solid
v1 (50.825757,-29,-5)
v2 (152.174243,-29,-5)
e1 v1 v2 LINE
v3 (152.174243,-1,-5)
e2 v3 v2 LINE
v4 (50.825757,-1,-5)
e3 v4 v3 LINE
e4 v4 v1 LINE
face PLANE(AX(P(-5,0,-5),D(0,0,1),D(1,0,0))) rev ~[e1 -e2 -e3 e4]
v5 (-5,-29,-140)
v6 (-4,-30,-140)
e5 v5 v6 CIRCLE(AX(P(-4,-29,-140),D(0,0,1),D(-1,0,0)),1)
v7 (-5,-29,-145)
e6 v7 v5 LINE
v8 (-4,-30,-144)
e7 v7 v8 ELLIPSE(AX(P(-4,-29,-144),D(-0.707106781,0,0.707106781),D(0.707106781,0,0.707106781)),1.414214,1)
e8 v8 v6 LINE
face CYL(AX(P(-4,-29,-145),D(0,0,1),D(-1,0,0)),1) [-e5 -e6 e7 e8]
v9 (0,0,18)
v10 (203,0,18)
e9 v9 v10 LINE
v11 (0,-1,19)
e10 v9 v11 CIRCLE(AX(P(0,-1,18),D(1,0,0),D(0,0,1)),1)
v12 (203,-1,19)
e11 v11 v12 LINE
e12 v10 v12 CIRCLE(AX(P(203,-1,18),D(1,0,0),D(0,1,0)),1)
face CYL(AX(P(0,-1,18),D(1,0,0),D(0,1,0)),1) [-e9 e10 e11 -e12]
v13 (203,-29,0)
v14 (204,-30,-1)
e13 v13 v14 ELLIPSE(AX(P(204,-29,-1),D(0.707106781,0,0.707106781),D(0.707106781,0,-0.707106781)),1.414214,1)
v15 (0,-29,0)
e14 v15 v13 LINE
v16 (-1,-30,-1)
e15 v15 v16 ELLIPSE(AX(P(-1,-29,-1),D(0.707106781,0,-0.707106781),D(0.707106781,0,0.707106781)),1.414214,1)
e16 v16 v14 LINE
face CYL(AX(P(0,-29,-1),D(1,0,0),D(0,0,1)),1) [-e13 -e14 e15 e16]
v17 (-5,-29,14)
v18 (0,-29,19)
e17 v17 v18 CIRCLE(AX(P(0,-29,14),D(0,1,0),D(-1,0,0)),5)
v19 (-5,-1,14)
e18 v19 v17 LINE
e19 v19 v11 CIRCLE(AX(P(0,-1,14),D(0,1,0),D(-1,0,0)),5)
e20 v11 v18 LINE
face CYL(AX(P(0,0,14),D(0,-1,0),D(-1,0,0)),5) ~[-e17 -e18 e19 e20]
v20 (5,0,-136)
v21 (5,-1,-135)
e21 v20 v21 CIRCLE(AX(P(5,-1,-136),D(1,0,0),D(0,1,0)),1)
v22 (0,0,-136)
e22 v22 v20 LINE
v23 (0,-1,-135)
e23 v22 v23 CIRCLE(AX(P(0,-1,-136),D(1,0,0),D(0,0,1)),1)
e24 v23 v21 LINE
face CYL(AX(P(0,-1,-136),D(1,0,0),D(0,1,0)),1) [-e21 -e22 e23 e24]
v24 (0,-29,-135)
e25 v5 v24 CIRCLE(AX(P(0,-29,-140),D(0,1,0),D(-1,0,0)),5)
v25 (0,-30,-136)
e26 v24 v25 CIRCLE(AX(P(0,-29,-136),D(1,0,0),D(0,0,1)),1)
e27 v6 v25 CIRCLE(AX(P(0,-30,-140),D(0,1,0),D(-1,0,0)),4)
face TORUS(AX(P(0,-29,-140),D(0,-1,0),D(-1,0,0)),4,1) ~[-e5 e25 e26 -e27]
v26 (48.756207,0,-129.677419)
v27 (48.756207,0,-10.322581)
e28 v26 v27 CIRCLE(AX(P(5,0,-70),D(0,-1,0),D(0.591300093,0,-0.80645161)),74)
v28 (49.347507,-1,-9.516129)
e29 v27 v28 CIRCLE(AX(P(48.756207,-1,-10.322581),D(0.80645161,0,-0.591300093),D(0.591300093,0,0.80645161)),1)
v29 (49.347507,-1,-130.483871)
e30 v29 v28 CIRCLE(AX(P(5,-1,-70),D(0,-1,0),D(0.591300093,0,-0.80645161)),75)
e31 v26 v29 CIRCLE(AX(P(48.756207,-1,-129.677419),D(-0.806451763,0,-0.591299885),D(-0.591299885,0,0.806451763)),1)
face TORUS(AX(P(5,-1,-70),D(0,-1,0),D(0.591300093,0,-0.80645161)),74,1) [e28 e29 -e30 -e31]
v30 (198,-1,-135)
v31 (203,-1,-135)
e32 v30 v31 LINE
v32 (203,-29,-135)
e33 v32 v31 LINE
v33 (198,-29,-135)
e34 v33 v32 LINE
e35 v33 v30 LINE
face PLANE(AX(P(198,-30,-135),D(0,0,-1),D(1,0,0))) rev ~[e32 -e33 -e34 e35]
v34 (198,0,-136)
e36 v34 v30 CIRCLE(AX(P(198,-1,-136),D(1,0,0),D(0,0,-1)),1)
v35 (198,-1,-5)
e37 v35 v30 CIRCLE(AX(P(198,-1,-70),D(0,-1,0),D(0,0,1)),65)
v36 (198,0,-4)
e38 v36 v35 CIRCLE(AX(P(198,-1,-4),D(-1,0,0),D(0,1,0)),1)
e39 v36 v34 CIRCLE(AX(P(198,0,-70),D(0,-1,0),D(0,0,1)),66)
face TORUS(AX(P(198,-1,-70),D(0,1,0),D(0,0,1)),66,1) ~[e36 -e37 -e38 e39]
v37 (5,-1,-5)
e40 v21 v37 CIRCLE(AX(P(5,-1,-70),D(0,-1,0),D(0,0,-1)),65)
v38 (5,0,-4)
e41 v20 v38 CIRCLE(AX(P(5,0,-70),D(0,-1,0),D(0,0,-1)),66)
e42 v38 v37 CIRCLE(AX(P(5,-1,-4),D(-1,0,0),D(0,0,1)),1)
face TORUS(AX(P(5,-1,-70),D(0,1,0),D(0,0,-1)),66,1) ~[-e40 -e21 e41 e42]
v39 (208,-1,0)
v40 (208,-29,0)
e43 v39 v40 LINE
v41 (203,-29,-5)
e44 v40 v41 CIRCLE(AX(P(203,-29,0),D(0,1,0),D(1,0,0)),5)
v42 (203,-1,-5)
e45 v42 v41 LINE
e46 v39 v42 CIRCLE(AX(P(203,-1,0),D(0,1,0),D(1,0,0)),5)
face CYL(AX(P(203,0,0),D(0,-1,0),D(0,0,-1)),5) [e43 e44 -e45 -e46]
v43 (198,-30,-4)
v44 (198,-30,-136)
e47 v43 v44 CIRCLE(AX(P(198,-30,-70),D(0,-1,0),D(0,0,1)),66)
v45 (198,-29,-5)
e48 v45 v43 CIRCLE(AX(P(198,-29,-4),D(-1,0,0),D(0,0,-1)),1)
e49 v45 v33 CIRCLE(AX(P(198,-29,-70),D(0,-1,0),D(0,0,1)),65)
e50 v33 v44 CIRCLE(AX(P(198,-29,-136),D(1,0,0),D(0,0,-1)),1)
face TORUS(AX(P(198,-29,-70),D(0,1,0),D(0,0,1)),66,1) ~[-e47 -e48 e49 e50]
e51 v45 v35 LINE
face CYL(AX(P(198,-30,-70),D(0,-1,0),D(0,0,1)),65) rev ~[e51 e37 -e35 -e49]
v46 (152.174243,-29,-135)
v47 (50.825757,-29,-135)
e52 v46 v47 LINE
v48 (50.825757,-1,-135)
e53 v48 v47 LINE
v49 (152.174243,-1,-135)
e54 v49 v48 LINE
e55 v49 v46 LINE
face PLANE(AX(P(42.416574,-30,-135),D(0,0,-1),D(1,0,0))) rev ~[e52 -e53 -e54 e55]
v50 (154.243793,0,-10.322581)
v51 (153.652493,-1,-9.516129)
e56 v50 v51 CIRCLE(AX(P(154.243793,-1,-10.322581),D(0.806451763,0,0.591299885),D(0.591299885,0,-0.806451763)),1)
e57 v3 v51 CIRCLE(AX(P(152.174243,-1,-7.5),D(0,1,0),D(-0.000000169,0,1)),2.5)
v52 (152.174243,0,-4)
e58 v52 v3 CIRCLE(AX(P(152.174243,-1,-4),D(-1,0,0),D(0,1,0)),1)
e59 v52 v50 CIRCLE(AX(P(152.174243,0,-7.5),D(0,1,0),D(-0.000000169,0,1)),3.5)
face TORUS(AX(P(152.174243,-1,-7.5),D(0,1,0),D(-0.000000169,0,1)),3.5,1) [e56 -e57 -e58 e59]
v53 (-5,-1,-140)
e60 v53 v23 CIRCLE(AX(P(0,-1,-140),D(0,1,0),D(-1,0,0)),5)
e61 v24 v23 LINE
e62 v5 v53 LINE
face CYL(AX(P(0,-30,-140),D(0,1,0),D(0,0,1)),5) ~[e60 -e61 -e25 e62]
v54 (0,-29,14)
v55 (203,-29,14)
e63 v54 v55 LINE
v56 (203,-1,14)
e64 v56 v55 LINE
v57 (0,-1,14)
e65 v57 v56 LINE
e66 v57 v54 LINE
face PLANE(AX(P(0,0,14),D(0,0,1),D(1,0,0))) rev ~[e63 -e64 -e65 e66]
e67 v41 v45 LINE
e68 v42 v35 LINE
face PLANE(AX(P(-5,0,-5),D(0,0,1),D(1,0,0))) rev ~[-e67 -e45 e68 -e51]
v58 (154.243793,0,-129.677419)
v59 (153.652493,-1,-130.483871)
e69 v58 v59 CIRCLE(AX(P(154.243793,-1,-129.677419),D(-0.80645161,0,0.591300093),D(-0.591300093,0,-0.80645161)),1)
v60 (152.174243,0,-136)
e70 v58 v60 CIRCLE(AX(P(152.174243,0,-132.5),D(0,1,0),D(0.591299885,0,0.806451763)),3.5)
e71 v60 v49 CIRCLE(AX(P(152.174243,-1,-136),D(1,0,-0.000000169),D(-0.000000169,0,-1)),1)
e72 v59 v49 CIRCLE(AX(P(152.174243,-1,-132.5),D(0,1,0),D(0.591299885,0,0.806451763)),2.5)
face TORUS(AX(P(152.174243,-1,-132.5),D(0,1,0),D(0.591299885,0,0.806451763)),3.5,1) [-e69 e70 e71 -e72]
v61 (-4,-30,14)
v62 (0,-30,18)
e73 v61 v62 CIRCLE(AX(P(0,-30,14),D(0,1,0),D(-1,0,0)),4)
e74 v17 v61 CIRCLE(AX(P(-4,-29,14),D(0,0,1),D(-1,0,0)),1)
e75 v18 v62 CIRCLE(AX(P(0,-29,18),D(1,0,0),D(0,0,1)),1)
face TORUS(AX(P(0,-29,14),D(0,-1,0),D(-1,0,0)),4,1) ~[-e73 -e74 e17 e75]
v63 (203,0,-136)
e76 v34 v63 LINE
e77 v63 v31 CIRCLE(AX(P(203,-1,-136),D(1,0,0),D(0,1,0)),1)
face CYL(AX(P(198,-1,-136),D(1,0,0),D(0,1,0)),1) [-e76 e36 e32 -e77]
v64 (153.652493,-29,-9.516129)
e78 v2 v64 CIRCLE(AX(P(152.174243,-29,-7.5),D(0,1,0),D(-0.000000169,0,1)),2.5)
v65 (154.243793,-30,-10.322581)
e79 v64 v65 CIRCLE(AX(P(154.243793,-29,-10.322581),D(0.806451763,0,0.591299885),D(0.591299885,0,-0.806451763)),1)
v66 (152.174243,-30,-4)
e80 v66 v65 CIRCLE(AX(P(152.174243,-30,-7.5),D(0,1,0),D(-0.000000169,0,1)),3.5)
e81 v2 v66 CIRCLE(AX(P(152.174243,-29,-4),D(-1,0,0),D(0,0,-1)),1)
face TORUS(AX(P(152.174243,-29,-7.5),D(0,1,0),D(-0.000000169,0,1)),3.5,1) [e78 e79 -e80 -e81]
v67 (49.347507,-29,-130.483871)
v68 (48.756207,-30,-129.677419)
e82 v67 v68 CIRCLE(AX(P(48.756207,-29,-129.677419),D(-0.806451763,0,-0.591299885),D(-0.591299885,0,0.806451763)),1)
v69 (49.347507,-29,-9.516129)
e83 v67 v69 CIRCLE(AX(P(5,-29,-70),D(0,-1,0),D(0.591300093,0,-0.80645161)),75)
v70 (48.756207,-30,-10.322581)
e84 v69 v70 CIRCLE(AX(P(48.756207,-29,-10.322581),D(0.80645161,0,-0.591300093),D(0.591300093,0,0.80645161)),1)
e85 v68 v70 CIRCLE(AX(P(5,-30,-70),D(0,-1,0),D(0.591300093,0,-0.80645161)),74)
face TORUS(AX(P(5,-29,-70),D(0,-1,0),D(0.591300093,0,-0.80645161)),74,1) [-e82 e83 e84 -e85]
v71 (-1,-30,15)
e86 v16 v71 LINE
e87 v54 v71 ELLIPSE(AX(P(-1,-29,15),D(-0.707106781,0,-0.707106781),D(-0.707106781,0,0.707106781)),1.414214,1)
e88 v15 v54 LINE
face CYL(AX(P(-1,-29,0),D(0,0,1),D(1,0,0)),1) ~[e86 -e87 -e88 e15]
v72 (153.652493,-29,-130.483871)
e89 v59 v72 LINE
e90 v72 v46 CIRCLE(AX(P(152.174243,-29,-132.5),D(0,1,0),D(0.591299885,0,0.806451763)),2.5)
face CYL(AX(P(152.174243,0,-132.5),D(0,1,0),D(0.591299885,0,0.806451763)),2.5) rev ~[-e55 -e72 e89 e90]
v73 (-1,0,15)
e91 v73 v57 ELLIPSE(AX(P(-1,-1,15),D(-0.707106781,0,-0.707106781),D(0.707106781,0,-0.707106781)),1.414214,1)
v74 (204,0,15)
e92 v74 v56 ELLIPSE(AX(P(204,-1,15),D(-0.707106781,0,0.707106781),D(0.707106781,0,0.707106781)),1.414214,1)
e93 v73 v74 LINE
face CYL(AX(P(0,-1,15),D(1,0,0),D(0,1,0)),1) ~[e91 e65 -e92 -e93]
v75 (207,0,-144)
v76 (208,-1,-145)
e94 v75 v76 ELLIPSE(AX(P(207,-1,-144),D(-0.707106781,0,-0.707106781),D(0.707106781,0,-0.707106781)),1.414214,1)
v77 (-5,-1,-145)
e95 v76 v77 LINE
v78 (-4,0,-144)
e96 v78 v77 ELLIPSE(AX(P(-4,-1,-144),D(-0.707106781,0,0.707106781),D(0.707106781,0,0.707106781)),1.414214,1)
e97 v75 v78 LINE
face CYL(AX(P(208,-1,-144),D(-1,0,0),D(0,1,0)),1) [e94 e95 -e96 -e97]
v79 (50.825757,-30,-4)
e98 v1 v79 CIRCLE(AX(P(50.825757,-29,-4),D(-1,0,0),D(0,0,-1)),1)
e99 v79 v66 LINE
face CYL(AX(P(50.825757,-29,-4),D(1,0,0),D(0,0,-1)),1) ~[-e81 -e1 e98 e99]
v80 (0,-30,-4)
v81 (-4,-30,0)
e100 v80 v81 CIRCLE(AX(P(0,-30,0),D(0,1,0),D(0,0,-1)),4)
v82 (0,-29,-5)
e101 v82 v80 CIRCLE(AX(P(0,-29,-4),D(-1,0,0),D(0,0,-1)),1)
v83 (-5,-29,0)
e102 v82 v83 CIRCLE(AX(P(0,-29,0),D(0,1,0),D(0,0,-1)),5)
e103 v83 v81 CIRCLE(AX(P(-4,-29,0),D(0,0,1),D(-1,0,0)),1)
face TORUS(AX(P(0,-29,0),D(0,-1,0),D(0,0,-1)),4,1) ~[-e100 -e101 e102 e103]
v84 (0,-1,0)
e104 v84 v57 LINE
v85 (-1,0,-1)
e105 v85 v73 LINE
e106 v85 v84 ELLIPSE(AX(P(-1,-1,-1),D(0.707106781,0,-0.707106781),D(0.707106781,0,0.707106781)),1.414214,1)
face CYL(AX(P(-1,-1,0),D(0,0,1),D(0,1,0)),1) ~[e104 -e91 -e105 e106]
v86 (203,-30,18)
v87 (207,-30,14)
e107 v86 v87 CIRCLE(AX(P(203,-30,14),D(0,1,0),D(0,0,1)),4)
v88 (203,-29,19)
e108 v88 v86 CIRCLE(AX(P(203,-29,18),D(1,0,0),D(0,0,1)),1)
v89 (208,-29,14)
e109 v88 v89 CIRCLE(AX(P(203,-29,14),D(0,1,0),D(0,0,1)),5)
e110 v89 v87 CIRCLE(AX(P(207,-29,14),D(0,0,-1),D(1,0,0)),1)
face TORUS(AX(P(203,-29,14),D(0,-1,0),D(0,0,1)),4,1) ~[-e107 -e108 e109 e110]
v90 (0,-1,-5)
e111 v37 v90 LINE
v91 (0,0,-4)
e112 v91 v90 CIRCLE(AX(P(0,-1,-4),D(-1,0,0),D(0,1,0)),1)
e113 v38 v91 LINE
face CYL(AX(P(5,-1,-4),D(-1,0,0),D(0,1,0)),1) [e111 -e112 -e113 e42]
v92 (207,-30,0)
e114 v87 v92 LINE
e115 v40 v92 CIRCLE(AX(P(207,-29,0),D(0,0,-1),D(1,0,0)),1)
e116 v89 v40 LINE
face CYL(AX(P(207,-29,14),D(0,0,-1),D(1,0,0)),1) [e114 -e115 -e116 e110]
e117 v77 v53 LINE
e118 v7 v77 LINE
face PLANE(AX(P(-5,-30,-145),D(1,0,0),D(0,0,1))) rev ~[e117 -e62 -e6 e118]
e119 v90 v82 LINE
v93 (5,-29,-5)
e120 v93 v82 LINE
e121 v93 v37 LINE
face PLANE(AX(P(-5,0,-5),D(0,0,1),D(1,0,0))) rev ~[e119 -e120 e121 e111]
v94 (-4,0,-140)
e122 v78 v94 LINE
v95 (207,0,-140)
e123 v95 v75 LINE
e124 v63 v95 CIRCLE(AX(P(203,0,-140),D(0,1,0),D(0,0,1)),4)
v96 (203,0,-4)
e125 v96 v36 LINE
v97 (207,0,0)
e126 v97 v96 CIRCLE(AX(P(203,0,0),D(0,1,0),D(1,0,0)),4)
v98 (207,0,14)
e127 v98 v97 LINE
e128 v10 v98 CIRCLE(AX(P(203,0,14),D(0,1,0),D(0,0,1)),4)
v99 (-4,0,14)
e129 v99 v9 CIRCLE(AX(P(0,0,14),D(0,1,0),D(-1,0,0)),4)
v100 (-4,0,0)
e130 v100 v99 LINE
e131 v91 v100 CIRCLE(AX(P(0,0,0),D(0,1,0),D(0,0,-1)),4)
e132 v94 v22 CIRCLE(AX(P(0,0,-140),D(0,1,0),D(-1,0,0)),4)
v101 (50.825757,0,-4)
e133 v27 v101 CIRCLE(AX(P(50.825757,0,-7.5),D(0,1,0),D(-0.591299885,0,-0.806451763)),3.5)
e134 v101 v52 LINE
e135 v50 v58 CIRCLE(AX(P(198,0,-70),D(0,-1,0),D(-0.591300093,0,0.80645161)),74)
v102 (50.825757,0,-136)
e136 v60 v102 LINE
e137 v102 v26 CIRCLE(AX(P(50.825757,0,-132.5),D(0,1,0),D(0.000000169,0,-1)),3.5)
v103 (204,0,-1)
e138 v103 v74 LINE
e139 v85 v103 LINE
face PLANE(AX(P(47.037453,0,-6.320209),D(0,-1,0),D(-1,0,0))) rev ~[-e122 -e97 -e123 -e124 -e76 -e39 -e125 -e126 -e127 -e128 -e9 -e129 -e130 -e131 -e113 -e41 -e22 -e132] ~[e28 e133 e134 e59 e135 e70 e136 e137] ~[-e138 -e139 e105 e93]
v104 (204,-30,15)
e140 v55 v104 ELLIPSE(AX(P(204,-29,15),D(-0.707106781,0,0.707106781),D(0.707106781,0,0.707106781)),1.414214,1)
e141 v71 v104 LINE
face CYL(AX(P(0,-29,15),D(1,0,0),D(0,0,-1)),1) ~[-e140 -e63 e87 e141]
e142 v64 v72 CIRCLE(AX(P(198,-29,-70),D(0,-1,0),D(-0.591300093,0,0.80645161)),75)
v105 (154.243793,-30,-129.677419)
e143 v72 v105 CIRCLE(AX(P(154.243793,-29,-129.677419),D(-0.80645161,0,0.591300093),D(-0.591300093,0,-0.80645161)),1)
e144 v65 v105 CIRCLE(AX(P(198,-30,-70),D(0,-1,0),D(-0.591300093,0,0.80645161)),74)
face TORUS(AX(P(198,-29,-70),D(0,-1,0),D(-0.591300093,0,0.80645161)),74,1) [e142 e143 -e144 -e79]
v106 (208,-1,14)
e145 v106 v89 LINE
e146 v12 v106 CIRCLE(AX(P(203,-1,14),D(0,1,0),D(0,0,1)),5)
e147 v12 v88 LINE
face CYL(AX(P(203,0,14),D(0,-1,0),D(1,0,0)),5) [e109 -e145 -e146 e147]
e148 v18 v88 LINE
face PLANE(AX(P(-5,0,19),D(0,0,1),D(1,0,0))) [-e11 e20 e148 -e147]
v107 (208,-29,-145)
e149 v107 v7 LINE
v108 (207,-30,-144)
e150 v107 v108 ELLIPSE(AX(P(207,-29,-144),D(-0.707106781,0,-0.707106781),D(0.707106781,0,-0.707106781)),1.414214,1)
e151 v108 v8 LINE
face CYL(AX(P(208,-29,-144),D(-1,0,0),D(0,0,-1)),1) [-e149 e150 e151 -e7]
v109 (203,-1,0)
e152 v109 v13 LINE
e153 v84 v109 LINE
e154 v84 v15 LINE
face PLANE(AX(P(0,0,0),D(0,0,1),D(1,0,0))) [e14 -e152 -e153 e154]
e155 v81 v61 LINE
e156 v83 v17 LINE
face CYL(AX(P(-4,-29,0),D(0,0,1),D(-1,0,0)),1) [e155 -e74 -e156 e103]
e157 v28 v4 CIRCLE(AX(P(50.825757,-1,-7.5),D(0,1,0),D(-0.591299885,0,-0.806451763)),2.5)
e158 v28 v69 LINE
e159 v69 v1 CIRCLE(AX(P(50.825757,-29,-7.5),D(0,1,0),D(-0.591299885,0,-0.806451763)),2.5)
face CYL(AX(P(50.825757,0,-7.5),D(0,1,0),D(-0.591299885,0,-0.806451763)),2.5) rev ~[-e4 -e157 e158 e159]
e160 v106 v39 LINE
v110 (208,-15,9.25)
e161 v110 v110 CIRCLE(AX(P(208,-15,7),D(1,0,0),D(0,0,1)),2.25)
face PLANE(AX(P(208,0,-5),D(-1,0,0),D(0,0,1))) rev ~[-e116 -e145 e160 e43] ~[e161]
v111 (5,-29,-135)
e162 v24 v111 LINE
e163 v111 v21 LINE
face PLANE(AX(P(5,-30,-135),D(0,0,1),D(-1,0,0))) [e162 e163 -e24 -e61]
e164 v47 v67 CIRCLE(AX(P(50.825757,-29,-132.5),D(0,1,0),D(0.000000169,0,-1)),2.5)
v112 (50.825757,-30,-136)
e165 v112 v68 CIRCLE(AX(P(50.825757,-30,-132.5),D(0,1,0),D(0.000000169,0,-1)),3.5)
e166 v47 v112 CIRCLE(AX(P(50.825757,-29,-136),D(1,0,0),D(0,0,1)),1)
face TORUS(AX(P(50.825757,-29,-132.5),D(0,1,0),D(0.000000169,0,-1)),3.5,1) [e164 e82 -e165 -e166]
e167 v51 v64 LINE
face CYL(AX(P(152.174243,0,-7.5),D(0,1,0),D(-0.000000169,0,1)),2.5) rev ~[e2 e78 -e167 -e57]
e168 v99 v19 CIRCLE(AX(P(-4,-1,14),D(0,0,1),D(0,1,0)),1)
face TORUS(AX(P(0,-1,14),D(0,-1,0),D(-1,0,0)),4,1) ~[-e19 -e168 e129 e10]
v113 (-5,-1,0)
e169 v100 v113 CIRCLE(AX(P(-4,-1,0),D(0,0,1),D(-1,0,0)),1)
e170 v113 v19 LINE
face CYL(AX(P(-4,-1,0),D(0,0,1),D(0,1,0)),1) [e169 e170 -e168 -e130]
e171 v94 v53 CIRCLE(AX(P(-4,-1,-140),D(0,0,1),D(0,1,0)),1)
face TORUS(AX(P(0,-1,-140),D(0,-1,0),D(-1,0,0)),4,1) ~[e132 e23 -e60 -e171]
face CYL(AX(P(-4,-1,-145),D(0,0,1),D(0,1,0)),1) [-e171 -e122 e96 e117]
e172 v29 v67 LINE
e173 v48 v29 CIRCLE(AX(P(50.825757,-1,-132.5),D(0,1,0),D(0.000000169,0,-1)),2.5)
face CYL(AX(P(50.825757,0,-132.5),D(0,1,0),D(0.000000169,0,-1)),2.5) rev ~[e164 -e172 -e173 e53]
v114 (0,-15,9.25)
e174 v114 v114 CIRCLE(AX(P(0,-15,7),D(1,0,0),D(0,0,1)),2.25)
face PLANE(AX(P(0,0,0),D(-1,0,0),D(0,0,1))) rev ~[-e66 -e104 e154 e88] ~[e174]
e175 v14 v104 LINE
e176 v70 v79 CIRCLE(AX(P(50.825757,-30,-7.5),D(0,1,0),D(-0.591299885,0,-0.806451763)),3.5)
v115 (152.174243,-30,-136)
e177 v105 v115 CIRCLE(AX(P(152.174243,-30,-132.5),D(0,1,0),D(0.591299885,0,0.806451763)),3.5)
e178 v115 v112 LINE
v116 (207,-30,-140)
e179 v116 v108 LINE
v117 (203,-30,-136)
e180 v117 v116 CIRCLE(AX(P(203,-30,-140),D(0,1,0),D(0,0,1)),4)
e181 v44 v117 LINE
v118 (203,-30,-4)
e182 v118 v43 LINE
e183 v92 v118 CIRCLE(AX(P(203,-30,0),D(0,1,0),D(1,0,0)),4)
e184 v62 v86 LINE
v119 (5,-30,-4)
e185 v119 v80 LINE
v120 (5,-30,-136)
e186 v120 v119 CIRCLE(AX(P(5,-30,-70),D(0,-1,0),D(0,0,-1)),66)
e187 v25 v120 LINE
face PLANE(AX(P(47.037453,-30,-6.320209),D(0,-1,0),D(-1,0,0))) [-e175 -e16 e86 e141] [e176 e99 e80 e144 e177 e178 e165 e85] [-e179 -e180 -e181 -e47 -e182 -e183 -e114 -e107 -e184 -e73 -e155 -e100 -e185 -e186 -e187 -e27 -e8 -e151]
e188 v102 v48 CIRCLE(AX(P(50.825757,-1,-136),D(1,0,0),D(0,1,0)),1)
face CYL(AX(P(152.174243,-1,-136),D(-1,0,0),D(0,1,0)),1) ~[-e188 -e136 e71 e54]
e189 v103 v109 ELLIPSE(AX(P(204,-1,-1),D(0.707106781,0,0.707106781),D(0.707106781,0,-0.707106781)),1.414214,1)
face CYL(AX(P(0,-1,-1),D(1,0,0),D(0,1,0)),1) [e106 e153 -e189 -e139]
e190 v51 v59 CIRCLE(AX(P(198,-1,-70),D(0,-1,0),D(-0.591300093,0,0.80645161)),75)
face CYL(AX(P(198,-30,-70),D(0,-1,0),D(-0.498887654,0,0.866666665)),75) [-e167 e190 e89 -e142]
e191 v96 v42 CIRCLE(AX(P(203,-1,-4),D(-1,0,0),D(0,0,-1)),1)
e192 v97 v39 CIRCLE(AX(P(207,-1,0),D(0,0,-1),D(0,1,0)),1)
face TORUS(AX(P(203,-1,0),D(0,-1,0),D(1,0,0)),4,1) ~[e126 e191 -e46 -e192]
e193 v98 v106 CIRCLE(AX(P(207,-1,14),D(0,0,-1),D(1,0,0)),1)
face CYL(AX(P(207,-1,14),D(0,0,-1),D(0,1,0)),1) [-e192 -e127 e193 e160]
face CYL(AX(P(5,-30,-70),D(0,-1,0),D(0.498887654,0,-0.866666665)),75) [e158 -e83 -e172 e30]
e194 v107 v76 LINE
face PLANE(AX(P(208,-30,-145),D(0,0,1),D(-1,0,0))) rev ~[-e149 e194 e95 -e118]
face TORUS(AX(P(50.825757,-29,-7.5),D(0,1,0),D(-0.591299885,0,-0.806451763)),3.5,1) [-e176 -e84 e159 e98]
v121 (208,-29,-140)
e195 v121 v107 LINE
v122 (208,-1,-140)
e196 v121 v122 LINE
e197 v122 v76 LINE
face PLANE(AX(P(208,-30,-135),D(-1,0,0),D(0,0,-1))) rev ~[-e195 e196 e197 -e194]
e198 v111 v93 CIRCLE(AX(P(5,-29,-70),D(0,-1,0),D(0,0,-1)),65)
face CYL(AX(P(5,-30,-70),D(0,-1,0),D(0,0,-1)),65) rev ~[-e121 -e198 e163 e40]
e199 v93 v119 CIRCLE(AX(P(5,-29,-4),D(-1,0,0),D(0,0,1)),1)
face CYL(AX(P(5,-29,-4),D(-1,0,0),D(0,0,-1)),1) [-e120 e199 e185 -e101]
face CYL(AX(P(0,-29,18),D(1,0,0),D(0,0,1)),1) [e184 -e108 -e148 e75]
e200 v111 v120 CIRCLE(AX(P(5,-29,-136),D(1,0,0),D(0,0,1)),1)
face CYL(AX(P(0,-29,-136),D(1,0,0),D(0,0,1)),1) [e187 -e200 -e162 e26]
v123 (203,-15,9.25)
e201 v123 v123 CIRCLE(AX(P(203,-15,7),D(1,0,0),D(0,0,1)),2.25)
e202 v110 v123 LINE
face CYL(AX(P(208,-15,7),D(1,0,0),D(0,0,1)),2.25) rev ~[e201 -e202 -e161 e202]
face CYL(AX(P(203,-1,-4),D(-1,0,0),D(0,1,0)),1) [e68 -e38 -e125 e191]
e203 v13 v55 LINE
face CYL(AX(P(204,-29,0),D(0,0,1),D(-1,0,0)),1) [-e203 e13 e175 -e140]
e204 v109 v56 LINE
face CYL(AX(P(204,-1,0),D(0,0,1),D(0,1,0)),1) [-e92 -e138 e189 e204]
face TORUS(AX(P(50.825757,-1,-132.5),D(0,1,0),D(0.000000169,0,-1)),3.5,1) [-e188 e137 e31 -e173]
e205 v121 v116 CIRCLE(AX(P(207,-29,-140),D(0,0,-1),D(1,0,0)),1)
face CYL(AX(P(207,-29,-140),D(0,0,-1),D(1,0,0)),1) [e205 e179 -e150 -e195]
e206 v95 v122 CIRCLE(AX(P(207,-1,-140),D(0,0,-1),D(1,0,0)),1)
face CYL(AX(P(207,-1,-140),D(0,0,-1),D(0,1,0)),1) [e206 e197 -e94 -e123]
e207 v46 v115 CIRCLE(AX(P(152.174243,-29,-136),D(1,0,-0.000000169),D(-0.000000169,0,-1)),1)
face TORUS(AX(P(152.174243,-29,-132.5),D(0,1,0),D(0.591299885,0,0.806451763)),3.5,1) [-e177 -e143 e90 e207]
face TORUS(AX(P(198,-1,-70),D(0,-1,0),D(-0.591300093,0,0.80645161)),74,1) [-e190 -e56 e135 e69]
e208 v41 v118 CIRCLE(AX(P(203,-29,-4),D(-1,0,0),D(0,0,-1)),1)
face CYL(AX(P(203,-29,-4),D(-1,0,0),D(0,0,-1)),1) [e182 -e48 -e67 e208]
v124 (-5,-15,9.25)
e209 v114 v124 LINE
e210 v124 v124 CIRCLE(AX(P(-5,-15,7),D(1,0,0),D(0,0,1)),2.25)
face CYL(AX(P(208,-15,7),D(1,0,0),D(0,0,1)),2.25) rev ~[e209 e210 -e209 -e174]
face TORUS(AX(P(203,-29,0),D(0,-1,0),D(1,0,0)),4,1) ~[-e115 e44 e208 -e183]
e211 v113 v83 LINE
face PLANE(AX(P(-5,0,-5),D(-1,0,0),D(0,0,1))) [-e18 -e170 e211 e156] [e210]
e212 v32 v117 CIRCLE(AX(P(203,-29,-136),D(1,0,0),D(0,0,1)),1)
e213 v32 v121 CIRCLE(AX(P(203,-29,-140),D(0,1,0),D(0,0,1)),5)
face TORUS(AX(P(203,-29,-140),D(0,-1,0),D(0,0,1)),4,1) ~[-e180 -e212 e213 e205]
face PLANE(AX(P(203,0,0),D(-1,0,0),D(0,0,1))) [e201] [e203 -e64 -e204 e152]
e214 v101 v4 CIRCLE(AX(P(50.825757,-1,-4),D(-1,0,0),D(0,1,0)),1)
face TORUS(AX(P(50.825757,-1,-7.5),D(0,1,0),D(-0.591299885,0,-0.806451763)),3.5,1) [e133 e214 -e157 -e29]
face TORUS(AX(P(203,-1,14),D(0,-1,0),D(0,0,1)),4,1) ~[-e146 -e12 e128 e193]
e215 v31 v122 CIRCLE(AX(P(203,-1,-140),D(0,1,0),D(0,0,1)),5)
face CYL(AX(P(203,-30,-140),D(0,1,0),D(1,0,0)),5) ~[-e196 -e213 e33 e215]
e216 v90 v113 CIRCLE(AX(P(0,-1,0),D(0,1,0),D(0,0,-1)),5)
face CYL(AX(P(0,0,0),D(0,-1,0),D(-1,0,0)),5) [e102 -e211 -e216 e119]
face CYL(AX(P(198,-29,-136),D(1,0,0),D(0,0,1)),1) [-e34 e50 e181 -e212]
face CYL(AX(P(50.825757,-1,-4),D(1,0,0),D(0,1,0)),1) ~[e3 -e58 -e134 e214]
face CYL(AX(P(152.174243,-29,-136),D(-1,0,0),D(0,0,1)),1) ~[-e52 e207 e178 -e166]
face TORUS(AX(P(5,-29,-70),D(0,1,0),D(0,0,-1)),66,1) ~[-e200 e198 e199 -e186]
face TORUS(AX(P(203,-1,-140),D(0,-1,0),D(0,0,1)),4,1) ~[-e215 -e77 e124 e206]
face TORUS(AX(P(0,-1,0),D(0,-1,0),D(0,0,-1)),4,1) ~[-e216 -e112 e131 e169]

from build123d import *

# Parameters (mm, degrees)
SKETCH_W     = 213
SKETCH_H     = 24
SKETCH_W_2   = 203
SKETCH_H_2   = 14
PAD_DEPTH    = 30
PAD001_DEPTH = 30
PAD002_DEPTH = 30
FILLET_R     = 5
SKETCH003_R  = 2.25
POCKET_DEPTH = 300
FILLET001_R  = 1


with BuildPart() as part:
    # Sketch → Pad (new body)
    with BuildSketch(Plane.XZ):
        with Locations((101.5, 7)):
            Rectangle(SKETCH_W, SKETCH_H)
        with Locations((101.5, 7)):
            Rectangle(SKETCH_W_2, SKETCH_H_2, mode=Mode.SUBTRACT)
    extrude(amount=PAD_DEPTH)

    # Sketch001 (on Face10 of Pad) → Pad001 (join)
    with BuildSketch(Plane.XZ.offset(30)):
        with BuildLine():
            Line((208, -145), (-5, -145))
            Line((-5, -145), (-5, -135))
            Line((5, -135), (-5, -135))
            ThreePointArc((5, -135), (70, -70), (5, -5))
            Line((5, -5), (42.416574, -5))
            ThreePointArc((42.416574, -135), (80, -70), (42.416574, -5))
            Line((42.416574, -135), (160.583426, -135))
            ThreePointArc((160.583426, -5), (123, -70), (160.583426, -135))
            Line((198, -5), (160.583426, -5))
            ThreePointArc((198, -5), (133, -70), (198, -135))
            Line((198, -135), (208, -135))
            Line((208, -135), (208, -145))
        make_face()
    extrude(amount=-PAD001_DEPTH)

    # Sketch002 (on Face13 of Pad001) → Pad002 (join)
    with BuildSketch(Plane(origin=(0, 0, 0), x_dir=(1, 0, 0), z_dir=(0, 1, 0))):
        with BuildLine():
            ThreePointArc((49.347507, 9.516129), (48.449802, 6.722286), (50.825757, 5))
            Line((50.825757, 5), (42.416574, 5))
            ThreePointArc((42.416574, 5), (45.944353, 7.162432), (49.347507, 9.516129))
        make_face()
        with BuildLine():
            ThreePointArc((50.825757, 135), (48.449802, 133.277714), (49.347507, 130.483871))
            ThreePointArc((49.347507, 130.483871), (45.944353, 132.837568), (42.416574, 135))
            Line((50.825757, 135), (42.416574, 135))
        make_face()
        with BuildLine():
            ThreePointArc((153.652493, 130.483871), (154.550198, 133.277714), (152.174243, 135))
            Line((152.174243, 135), (160.583426, 135))
            ThreePointArc((160.583426, 135), (157.055647, 132.837568), (153.652493, 130.483871))
        make_face()
        with BuildLine():
            ThreePointArc((152.174243, 5), (154.550198, 6.722286), (153.652493, 9.516129))
            ThreePointArc((153.652493, 9.516129), (157.055647, 7.162432), (160.583426, 5))
            Line((152.174243, 5), (160.583426, 5))
        make_face()
    extrude(amount=-PAD002_DEPTH)

    # Fillet
    fillet_edges = [part.edges().sort_by_distance(p)[0] for p in [
        (-5, -15, -135),
        (208, -15, -135),
        (208, -15, -5),
        (208, -15, 19),
        (-5, -15, 19),
        (-5, -15, -5),
    ]]
    fillet(fillet_edges, radius=FILLET_R)

    # Sketch003 (on Face7 of Fillet) → Pocket (cut)
    with BuildSketch(Plane(origin=(208, 0, 0), x_dir=(0, 0, 1), z_dir=(1, 0, 0))):
        with Locations((7, 15)):
            Circle(SKETCH003_R)
    extrude(amount=-POCKET_DEPTH, mode=Mode.SUBTRACT)

    # Fillet001
    fillet001_edges = [part.edges().sort_by_distance(p)[0] for p in [
        (101.5, 0, 19),
        (-3.535534, 0, 17.535534),
        (206.535534, 0, 17.535534),
        (-5, 0, 7),
        (208, 0, 7),
        (-3.535534, 0, -3.535534),
        (206.535534, 0, -3.535534),
        (2.5, 0, -5),
        (200.5, 0, -5),
        (70, 0, -70),
        (133, 0, -70),
        (2.5, 0, -135),
        (200.5, 0, -135),
        (-3.535534, 0, -136.464466),
        (206.535534, 0, -136.464466),
        (-5, 0, -142.5),
        (208, 0, -142.5),
        (101.5, 0, -145),
        (101.5, 0, 0),
        (203, 0, 7),
        (101.5, 0, 14),
        (0, 0, 7),
        (101.5, 0, -5),
        (48.449802, 0, -6.722286),
        (80, 0, -70),
        (48.449802, 0, -133.277714),
        (101.5, 0, -135),
        (154.550198, 0, -133.277714),
        (123, 0, -70),
        (154.550198, 0, -6.722286),
        (101.5, -30, 19),
        (-3.535534, -30, 17.535534),
        (206.535534, -30, 17.535534),
        (-5, -30, 7),
        (208, -30, 7),
        (-3.535534, -30, -3.535534),
        (206.535534, -30, -3.535534),
        (2.5, -30, -5),
        (200.5, -30, -5),
        (70, -30, -70),
        (133, -30, -70),
        (2.5, -30, -135),
        (200.5, -30, -135),
        (-3.535534, -30, -136.464466),
        (206.535534, -30, -136.464466),
        (-5, -30, -142.5),
        (208, -30, -142.5),
        (101.5, -30, -145),
        (101.5, -30, 0),
        (0, -30, 7),
        (101.5, -30, 14),
        (203, -30, 7),
        (101.5, -30, -5),
        (154.550198, -30, -6.722286),
        (123, -30, -70),
        (154.550198, -30, -133.277714),
        (101.5, -30, -135),
        (48.449802, -30, -133.277714),
        (80, -30, -70),
        (48.449802, -30, -6.722286),
    ]]
    fillet(fillet001_edges, radius=FILLET001_R)


solid = part.part
